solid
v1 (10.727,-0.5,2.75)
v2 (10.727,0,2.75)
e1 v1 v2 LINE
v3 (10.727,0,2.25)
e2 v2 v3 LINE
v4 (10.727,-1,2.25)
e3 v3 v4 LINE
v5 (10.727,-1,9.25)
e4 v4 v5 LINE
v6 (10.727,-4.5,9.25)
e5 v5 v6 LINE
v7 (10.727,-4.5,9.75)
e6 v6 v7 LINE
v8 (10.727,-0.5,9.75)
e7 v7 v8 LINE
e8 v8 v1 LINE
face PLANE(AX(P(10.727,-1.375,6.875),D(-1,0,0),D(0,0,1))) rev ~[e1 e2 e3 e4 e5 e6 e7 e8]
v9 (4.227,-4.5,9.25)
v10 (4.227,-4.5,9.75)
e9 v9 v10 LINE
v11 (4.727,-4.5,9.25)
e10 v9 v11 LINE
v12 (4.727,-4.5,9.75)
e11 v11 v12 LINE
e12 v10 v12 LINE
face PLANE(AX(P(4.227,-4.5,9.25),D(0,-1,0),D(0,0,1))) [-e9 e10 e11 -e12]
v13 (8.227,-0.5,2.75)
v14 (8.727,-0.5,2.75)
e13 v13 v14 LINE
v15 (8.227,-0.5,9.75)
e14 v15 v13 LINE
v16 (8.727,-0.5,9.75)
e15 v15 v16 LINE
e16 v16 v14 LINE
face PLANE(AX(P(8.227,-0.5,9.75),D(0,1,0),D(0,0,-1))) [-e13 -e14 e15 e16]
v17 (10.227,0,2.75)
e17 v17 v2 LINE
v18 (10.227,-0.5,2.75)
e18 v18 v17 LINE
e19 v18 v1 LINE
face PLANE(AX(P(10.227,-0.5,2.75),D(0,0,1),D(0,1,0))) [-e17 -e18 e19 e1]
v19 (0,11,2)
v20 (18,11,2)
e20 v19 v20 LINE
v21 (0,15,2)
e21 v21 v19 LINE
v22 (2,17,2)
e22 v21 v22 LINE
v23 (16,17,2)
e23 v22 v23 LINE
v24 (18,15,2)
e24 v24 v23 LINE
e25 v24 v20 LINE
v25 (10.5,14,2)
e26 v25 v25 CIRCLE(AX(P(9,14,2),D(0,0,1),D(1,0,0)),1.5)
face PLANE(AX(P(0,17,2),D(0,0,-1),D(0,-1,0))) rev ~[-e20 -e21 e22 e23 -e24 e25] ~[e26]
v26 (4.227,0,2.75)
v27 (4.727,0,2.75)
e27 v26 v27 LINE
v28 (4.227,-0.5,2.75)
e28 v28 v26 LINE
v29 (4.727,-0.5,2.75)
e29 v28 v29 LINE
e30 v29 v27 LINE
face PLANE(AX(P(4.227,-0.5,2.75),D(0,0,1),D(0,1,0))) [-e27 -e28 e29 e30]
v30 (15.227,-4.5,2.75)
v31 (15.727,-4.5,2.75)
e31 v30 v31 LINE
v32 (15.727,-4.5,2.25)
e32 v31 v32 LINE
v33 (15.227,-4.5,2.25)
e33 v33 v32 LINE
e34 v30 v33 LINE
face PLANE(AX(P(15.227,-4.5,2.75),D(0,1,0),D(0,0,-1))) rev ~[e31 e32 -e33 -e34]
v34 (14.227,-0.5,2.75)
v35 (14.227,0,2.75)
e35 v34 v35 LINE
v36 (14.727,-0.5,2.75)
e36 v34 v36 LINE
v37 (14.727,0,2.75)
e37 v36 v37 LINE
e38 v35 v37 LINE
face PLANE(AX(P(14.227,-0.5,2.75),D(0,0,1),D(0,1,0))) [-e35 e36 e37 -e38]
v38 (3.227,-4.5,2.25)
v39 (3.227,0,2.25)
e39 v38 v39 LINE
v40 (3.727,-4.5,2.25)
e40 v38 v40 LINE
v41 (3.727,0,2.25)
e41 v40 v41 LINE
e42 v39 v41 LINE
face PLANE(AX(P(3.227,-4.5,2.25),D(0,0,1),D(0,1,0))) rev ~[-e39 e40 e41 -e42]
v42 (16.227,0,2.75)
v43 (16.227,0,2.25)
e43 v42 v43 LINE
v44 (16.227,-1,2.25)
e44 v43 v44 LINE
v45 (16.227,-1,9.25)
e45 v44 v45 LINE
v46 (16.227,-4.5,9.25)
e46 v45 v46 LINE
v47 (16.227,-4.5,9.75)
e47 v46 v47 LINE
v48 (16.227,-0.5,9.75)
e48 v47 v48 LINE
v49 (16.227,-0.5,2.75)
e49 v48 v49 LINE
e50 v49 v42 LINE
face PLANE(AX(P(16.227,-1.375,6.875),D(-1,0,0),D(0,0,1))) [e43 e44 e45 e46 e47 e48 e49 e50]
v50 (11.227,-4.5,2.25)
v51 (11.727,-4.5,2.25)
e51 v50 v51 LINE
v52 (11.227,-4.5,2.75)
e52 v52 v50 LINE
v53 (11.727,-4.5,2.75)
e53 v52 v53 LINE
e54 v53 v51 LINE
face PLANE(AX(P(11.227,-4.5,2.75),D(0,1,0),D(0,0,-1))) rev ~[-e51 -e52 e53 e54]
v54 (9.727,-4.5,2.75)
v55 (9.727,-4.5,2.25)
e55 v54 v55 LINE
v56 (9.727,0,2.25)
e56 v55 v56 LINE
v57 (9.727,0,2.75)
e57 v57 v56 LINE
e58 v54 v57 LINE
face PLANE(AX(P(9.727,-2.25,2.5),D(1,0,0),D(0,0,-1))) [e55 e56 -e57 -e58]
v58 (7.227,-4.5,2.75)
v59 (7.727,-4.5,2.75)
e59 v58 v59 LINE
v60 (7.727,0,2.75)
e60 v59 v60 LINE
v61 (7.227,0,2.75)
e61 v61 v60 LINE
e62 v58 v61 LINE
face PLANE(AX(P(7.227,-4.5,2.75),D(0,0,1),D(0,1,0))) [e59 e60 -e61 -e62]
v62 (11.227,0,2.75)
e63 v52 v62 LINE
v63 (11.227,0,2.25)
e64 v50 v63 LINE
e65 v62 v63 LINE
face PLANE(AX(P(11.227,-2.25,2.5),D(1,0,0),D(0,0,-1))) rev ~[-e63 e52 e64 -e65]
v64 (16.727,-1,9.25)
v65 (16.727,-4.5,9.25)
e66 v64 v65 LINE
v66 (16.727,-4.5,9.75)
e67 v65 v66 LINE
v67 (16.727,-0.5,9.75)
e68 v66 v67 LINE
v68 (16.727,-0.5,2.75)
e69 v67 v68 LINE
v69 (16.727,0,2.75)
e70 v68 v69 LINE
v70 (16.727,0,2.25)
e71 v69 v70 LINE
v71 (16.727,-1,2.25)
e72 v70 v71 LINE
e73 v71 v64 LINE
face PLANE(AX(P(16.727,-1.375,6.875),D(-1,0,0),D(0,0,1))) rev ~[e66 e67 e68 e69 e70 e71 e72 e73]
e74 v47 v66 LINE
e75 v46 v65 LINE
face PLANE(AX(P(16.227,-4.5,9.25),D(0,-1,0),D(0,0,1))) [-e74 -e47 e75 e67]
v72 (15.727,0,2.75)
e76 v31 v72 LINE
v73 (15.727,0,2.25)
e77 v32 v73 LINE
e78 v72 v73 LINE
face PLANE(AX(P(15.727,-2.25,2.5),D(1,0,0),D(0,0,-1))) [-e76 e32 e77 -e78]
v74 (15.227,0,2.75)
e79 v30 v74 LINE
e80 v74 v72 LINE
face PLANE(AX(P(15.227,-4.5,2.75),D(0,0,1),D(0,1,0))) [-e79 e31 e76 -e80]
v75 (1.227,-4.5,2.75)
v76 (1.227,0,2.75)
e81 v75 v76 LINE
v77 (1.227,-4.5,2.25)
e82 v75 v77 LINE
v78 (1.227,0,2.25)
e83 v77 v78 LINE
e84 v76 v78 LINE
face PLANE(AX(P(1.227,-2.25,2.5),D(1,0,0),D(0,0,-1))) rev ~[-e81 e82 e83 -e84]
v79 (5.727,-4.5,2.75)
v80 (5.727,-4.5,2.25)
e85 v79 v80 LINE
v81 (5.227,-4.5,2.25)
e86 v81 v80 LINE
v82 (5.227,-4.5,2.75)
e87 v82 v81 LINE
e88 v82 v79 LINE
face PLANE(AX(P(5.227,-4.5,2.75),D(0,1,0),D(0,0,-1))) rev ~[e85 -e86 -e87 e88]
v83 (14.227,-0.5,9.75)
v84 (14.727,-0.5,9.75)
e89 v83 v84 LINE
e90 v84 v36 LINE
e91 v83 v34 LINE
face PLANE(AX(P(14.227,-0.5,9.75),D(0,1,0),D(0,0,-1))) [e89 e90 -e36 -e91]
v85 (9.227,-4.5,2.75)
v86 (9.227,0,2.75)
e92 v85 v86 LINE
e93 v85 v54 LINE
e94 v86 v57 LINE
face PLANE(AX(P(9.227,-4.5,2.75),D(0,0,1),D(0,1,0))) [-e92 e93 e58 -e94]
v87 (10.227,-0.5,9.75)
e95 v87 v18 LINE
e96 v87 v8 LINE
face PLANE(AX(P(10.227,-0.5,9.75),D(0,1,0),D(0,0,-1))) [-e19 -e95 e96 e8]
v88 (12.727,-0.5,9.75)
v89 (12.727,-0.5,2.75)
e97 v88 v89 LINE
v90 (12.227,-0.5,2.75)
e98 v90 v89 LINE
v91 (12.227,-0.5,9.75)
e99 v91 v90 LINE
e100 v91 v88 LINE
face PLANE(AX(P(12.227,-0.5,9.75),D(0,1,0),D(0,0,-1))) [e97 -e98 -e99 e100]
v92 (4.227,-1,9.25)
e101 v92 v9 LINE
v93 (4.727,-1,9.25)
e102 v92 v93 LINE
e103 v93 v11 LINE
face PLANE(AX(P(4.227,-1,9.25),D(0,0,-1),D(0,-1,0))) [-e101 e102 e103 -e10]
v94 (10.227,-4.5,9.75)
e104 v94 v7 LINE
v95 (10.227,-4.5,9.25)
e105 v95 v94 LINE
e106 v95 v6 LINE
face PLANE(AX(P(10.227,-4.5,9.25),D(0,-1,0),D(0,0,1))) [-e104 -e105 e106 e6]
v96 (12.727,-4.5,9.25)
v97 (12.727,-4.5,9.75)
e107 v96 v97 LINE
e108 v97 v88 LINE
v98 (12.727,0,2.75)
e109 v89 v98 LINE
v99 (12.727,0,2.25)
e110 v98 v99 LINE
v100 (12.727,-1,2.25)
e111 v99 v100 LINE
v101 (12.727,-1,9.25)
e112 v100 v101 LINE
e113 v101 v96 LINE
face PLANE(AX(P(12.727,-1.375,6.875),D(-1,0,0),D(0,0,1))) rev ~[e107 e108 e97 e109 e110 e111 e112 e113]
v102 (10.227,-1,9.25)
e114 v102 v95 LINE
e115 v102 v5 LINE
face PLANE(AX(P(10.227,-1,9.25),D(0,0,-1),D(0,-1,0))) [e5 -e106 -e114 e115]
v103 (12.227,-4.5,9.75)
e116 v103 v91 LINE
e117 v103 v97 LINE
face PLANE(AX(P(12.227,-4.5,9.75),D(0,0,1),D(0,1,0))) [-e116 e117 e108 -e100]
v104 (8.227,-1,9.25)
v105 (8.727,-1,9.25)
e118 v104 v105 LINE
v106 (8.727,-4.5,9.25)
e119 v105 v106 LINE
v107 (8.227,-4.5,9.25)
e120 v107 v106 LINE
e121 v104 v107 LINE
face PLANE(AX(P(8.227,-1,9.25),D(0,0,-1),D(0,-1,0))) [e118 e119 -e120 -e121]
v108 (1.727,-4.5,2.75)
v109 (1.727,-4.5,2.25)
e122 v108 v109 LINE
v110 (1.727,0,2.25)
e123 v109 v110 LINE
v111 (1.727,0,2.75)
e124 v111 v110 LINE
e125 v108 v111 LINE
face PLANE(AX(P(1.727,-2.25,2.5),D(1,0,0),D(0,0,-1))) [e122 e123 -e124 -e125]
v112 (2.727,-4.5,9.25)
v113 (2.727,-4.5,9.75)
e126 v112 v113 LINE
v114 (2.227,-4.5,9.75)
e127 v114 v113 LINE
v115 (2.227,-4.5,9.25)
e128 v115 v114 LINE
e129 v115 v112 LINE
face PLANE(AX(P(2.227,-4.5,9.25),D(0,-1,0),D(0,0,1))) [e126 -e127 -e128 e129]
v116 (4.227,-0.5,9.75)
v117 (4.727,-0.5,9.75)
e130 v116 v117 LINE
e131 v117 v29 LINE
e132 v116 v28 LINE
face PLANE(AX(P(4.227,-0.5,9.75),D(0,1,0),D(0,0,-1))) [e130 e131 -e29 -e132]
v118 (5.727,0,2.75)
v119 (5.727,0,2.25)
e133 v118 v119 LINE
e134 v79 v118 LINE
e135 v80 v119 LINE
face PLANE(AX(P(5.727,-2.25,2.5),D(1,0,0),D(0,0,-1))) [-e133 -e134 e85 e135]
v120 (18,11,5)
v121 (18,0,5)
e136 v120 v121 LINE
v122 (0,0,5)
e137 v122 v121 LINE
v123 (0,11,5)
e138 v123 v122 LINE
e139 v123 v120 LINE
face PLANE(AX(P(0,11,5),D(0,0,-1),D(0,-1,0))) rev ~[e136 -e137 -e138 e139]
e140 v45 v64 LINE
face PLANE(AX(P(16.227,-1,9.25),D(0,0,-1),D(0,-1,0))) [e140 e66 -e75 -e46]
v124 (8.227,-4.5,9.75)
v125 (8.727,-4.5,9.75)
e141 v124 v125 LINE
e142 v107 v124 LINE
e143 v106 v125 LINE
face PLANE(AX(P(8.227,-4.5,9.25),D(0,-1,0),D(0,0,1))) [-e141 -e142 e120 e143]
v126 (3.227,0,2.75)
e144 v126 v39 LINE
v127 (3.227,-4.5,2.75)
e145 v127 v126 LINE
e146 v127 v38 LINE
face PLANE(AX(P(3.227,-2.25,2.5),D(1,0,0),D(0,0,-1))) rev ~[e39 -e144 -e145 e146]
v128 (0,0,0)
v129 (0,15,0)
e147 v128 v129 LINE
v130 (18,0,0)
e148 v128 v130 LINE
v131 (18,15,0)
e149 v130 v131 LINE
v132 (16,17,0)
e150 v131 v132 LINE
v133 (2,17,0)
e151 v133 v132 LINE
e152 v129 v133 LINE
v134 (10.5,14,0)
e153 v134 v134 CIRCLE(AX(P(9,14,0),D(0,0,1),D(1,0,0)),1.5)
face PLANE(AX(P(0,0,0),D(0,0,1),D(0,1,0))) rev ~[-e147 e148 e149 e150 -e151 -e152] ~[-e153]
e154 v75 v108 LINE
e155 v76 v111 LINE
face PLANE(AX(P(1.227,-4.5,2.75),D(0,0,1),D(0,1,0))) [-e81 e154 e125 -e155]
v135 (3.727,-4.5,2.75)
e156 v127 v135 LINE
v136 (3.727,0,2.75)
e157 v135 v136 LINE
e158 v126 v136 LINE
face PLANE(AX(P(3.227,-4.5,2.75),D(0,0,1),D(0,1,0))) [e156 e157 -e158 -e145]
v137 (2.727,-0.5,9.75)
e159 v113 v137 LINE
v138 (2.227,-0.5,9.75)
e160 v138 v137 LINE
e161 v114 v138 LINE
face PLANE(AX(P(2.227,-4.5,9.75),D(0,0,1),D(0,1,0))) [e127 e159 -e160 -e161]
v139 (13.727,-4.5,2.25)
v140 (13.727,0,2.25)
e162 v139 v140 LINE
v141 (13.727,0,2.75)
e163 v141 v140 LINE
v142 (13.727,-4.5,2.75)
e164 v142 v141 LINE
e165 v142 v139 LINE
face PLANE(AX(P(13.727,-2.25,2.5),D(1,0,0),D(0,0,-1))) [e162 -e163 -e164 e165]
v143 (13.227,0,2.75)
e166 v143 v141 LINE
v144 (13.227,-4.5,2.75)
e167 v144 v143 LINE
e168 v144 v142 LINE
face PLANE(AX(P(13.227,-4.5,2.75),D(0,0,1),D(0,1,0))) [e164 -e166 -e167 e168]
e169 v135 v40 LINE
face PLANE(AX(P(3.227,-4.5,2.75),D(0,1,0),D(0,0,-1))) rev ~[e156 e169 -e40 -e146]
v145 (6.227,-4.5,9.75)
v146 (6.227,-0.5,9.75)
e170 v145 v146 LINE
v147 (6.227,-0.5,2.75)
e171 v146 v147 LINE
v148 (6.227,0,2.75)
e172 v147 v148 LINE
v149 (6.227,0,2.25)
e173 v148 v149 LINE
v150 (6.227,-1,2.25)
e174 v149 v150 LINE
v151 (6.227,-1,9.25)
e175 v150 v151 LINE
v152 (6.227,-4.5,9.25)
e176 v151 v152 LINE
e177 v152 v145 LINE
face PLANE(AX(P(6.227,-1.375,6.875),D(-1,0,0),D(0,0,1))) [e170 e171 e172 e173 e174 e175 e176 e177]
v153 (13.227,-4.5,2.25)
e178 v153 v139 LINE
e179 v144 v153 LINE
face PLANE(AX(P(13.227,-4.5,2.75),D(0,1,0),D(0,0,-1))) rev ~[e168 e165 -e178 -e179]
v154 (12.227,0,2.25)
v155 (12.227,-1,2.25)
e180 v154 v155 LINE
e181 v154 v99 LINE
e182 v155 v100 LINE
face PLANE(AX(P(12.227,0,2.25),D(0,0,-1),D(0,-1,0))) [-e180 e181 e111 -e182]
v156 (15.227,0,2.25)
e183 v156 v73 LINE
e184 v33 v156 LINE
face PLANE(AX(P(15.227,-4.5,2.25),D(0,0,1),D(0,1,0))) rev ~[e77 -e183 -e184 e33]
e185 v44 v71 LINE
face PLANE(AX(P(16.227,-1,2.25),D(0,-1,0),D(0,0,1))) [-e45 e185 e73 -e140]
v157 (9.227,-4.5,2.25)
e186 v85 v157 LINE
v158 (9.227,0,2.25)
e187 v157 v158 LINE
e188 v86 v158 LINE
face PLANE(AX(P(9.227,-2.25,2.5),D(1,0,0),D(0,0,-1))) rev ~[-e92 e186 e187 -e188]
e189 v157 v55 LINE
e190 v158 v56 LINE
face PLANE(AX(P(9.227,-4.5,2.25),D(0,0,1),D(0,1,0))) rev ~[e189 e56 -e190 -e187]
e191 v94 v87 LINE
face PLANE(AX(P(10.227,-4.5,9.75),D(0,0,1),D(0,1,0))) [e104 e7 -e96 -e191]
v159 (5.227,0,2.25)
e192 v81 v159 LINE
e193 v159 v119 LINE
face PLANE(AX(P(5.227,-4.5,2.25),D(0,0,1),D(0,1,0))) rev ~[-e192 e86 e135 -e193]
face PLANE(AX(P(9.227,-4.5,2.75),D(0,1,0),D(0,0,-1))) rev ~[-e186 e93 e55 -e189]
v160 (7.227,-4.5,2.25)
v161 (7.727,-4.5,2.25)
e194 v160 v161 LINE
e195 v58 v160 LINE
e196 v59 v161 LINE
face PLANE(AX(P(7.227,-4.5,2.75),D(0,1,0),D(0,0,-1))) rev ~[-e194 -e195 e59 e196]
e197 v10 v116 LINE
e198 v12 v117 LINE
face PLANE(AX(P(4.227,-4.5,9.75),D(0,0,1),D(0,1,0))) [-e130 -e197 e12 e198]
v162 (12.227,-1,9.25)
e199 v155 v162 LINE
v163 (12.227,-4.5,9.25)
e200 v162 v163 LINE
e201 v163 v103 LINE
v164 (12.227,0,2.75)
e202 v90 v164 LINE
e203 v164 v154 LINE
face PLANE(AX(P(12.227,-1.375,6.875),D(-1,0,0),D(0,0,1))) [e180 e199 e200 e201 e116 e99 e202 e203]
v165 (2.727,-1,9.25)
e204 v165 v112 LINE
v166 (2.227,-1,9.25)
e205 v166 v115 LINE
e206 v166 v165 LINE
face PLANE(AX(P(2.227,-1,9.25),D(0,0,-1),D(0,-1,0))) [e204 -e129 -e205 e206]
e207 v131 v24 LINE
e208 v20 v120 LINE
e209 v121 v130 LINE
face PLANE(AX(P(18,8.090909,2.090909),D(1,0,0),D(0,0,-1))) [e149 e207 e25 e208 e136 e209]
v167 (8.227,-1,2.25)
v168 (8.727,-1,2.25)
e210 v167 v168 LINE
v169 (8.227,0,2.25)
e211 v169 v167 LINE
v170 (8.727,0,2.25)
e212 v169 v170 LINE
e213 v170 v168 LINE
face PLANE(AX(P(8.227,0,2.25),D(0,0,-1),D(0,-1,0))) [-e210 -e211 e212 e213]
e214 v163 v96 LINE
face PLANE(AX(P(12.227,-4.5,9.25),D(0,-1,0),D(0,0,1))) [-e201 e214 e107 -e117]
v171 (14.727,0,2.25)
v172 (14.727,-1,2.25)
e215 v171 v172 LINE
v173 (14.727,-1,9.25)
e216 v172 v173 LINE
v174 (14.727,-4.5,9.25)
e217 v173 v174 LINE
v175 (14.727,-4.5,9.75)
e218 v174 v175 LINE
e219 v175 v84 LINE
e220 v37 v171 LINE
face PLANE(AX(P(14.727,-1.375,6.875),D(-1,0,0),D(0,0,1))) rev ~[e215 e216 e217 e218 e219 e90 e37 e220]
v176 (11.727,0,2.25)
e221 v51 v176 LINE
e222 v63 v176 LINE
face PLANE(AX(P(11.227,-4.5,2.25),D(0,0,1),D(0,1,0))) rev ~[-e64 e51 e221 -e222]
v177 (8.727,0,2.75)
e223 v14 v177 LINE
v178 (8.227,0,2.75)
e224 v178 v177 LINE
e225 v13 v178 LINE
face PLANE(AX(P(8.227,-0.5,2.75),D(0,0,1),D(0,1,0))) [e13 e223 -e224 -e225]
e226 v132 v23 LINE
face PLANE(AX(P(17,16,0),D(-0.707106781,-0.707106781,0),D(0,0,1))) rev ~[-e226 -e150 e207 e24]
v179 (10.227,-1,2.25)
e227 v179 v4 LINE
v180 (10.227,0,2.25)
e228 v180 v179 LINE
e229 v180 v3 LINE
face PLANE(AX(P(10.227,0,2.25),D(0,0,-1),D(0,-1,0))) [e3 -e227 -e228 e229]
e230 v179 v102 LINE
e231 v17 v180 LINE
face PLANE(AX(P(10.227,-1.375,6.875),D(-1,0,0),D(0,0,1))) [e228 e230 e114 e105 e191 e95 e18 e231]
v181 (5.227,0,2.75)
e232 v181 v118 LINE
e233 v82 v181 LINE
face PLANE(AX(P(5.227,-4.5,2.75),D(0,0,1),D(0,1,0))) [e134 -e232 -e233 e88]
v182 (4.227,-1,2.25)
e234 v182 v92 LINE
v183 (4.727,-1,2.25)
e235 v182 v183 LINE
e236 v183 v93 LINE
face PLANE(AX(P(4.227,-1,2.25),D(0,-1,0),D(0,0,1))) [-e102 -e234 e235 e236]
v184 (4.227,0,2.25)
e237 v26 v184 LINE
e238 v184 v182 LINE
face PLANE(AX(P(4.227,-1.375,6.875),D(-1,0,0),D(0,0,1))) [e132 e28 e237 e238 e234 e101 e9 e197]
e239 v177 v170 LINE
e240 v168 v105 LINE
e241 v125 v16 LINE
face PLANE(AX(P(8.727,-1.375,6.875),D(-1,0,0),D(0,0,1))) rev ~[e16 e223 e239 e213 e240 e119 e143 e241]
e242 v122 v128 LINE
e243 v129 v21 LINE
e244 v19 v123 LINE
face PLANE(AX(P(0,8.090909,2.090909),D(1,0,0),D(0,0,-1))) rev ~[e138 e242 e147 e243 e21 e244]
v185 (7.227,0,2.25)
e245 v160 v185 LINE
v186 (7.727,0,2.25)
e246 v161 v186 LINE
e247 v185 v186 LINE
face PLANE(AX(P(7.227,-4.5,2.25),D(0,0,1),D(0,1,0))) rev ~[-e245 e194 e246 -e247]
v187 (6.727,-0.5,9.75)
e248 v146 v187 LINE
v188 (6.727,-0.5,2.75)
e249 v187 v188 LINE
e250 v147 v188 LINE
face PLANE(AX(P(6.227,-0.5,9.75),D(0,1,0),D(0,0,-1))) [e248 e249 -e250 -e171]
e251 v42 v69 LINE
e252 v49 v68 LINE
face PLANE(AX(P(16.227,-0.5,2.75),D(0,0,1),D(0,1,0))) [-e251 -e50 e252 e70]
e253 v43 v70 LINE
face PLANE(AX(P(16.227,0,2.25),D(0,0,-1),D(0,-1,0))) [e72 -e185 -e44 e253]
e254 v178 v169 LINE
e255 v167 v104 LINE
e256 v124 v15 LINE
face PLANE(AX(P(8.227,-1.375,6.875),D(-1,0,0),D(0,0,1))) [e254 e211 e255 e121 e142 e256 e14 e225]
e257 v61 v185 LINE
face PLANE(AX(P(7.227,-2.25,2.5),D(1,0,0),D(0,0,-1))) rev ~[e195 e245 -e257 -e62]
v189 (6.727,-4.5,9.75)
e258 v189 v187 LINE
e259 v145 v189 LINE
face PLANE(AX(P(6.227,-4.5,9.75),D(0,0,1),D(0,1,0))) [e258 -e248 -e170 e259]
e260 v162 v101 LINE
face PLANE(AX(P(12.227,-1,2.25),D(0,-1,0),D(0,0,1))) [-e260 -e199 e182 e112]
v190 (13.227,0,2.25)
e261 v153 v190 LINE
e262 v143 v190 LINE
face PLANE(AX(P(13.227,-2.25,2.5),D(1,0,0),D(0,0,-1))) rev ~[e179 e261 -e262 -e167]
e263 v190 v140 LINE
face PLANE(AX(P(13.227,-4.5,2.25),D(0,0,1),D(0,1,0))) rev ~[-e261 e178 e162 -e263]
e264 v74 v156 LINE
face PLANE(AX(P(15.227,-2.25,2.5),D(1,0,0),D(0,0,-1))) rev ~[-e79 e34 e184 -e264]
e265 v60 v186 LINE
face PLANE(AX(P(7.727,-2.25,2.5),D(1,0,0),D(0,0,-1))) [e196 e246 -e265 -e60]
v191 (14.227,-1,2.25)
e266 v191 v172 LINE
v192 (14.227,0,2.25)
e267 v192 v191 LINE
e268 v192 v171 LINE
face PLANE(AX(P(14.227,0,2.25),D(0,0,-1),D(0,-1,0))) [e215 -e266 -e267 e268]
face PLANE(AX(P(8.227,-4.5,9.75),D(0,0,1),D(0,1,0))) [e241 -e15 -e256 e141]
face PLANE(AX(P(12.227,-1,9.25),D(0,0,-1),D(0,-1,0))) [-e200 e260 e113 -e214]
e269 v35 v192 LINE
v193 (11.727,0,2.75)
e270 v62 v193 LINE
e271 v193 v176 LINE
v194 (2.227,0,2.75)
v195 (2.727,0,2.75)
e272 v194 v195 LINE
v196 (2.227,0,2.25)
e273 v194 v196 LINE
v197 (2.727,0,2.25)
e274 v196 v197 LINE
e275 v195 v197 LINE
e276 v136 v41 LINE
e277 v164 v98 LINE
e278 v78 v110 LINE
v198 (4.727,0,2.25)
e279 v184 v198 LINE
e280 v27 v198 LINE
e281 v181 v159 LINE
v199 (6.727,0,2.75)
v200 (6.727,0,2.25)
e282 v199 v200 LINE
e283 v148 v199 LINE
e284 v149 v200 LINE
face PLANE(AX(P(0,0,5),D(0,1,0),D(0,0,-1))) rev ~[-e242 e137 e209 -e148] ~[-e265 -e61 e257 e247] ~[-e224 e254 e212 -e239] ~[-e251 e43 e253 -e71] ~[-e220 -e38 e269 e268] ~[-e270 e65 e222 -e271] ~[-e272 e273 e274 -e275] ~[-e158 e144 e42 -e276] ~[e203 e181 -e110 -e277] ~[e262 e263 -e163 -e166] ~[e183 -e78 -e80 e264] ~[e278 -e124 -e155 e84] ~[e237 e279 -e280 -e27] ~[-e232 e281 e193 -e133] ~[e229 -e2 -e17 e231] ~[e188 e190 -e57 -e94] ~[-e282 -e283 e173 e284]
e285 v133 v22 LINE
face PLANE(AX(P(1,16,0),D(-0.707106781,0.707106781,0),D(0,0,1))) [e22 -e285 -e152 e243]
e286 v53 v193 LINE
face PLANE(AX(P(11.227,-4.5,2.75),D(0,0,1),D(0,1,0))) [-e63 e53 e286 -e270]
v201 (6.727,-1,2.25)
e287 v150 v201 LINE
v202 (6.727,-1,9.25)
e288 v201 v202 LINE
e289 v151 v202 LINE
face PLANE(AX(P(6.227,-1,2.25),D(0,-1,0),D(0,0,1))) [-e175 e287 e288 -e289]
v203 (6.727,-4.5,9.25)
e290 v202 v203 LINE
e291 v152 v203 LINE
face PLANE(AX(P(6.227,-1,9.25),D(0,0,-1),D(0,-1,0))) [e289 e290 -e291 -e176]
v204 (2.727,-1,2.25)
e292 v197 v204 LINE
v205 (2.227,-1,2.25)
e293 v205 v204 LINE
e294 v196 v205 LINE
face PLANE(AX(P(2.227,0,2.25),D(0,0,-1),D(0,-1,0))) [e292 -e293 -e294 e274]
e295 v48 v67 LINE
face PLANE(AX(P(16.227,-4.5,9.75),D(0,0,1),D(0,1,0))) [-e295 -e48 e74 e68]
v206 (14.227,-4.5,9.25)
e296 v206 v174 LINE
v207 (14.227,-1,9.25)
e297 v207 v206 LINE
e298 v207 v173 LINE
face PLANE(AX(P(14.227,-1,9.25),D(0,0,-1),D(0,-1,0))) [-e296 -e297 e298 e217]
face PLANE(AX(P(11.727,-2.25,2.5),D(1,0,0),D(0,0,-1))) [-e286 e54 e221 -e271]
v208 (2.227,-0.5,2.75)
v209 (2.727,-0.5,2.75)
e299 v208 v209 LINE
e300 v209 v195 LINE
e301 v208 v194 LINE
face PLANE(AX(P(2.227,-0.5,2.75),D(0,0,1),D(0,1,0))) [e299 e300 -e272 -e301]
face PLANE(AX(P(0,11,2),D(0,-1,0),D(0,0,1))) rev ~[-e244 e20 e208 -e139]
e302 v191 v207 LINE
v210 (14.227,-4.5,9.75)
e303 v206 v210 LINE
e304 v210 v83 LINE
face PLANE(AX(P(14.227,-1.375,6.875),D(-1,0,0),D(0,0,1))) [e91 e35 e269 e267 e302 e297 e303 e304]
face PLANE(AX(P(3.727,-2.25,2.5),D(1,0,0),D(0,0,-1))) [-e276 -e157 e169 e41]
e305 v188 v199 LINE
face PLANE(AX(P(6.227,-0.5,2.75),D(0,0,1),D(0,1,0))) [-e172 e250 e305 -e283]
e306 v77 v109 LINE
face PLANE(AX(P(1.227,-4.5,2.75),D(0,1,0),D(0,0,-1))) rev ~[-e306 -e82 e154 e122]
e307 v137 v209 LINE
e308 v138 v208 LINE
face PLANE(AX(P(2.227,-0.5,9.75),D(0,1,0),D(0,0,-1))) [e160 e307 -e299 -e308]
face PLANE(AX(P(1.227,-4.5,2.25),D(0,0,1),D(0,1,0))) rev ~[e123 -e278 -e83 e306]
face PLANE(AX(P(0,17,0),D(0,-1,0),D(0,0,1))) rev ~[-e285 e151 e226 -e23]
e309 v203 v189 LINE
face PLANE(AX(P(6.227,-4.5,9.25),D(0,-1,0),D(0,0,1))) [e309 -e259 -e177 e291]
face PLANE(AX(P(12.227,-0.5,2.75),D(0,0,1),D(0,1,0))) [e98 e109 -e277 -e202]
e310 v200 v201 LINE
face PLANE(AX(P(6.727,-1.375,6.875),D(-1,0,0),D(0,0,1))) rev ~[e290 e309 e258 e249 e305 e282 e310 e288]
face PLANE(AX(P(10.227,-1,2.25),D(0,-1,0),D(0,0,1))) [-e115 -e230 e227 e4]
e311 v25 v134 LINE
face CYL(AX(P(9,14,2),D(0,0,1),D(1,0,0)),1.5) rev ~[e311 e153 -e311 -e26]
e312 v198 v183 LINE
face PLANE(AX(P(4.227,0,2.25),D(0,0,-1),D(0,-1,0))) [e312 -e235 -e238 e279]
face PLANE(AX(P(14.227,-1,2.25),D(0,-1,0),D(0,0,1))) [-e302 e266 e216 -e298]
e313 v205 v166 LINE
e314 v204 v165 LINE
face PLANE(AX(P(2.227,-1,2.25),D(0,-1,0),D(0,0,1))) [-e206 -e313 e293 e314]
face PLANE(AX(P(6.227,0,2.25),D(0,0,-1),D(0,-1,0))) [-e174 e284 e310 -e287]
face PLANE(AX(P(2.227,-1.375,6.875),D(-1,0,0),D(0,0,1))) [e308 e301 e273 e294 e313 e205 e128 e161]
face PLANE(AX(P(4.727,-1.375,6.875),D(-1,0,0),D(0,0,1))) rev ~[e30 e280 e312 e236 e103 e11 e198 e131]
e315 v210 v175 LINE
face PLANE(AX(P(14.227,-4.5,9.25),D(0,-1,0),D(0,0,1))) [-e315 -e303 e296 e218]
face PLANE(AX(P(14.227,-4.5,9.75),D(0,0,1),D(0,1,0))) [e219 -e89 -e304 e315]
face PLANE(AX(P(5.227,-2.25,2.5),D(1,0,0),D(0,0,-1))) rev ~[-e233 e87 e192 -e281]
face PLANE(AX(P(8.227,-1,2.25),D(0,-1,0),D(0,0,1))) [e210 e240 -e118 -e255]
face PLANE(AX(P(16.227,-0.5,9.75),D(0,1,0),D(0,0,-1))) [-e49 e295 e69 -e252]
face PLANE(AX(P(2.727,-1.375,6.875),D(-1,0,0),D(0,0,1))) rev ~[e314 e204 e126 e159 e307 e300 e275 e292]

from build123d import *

# Parameters (mm, degrees)
BOSS_EXTRUDE1_DEPTH = 18
SKETCH3_R           = 1.5
CUT_EXTRUDE1_DEPTH  = 25.939927827
CHAMFER1_SIZE       = 2
BOSS_EXTRUDE2_DEPTH = 0.5
LPATTERN1_COUNT     = 8
LPATTERN1_PITCH     = 2
SKETCH5_W           = 0.5
SKETCH5_H           = 4.5
BOSS_EXTRUDE3_DEPTH = 0.5
LPATTERN2_COUNT     = 8
LPATTERN2_PITCH     = 2


with BuildPart() as part:
    # Sketch2 → Boss-Extrude1 (new body)
    with BuildSketch(Plane(origin=(0, 0, 0), x_dir=(0, 0, -1), z_dir=(1, 0, 0))):
        Polygon((0, 0), (0, 17), (-2, 17), (-2, 11), (-5, 11), (-5, 0), align=None)
    extrude(amount=BOSS_EXTRUDE1_DEPTH)

    # Sketch3 → Cut-Extrude1 (cut, through all)
    with BuildSketch(Plane.XY.offset(2)):
        with Locations((9, 14)):
            Circle(SKETCH3_R)
    extrude(amount=-CUT_EXTRUDE1_DEPTH, mode=Mode.SUBTRACT)

    # Chamfer1
    chamfer1_edges = [part.edges().sort_by_distance(p)[0] for p in [
        (18, 17, 1),
        (0, 17, 1),
    ]]
    chamfer(chamfer1_edges, length=CHAMFER1_SIZE)

    # Sketch4 → Boss-Extrude2 (add)
    with BuildSketch(Plane(origin=(2.227, 0, 0), x_dir=(0, 0, -1), z_dir=(1, 0, 0))):
        Polygon((-2.25, 0), (-2.25, -1), (-9.25, -1), (-9.25, -4.5), (-9.75, -4.5), (-9.75, -0.5), (-2.75, -0.5), (-2.75, 0), align=None)
    boss_extrude2 = extrude(amount=BOSS_EXTRUDE2_DEPTH)

    # LPattern1: Boss-Extrude2 ×8
    with Locations(*[(i * LPATTERN1_PITCH, 0, 0) for i in range(1, LPATTERN1_COUNT)]):
        add(boss_extrude2)

    # Sketch5 → Boss-Extrude3 (add)
    with BuildSketch(Plane(origin=(1.227, 0, 0), x_dir=(0, 0, -1), z_dir=(1, 0, 0))):
        with Locations((-2.5, -2.25)):
            Rectangle(SKETCH5_W, SKETCH5_H)
    boss_extrude3 = extrude(amount=BOSS_EXTRUDE3_DEPTH)

    # LPattern2: Boss-Extrude3 ×8
    with Locations(*[(i * LPATTERN2_PITCH, 0, 0) for i in range(1, LPATTERN2_COUNT)]):
        add(boss_extrude3)


solid = part.part
